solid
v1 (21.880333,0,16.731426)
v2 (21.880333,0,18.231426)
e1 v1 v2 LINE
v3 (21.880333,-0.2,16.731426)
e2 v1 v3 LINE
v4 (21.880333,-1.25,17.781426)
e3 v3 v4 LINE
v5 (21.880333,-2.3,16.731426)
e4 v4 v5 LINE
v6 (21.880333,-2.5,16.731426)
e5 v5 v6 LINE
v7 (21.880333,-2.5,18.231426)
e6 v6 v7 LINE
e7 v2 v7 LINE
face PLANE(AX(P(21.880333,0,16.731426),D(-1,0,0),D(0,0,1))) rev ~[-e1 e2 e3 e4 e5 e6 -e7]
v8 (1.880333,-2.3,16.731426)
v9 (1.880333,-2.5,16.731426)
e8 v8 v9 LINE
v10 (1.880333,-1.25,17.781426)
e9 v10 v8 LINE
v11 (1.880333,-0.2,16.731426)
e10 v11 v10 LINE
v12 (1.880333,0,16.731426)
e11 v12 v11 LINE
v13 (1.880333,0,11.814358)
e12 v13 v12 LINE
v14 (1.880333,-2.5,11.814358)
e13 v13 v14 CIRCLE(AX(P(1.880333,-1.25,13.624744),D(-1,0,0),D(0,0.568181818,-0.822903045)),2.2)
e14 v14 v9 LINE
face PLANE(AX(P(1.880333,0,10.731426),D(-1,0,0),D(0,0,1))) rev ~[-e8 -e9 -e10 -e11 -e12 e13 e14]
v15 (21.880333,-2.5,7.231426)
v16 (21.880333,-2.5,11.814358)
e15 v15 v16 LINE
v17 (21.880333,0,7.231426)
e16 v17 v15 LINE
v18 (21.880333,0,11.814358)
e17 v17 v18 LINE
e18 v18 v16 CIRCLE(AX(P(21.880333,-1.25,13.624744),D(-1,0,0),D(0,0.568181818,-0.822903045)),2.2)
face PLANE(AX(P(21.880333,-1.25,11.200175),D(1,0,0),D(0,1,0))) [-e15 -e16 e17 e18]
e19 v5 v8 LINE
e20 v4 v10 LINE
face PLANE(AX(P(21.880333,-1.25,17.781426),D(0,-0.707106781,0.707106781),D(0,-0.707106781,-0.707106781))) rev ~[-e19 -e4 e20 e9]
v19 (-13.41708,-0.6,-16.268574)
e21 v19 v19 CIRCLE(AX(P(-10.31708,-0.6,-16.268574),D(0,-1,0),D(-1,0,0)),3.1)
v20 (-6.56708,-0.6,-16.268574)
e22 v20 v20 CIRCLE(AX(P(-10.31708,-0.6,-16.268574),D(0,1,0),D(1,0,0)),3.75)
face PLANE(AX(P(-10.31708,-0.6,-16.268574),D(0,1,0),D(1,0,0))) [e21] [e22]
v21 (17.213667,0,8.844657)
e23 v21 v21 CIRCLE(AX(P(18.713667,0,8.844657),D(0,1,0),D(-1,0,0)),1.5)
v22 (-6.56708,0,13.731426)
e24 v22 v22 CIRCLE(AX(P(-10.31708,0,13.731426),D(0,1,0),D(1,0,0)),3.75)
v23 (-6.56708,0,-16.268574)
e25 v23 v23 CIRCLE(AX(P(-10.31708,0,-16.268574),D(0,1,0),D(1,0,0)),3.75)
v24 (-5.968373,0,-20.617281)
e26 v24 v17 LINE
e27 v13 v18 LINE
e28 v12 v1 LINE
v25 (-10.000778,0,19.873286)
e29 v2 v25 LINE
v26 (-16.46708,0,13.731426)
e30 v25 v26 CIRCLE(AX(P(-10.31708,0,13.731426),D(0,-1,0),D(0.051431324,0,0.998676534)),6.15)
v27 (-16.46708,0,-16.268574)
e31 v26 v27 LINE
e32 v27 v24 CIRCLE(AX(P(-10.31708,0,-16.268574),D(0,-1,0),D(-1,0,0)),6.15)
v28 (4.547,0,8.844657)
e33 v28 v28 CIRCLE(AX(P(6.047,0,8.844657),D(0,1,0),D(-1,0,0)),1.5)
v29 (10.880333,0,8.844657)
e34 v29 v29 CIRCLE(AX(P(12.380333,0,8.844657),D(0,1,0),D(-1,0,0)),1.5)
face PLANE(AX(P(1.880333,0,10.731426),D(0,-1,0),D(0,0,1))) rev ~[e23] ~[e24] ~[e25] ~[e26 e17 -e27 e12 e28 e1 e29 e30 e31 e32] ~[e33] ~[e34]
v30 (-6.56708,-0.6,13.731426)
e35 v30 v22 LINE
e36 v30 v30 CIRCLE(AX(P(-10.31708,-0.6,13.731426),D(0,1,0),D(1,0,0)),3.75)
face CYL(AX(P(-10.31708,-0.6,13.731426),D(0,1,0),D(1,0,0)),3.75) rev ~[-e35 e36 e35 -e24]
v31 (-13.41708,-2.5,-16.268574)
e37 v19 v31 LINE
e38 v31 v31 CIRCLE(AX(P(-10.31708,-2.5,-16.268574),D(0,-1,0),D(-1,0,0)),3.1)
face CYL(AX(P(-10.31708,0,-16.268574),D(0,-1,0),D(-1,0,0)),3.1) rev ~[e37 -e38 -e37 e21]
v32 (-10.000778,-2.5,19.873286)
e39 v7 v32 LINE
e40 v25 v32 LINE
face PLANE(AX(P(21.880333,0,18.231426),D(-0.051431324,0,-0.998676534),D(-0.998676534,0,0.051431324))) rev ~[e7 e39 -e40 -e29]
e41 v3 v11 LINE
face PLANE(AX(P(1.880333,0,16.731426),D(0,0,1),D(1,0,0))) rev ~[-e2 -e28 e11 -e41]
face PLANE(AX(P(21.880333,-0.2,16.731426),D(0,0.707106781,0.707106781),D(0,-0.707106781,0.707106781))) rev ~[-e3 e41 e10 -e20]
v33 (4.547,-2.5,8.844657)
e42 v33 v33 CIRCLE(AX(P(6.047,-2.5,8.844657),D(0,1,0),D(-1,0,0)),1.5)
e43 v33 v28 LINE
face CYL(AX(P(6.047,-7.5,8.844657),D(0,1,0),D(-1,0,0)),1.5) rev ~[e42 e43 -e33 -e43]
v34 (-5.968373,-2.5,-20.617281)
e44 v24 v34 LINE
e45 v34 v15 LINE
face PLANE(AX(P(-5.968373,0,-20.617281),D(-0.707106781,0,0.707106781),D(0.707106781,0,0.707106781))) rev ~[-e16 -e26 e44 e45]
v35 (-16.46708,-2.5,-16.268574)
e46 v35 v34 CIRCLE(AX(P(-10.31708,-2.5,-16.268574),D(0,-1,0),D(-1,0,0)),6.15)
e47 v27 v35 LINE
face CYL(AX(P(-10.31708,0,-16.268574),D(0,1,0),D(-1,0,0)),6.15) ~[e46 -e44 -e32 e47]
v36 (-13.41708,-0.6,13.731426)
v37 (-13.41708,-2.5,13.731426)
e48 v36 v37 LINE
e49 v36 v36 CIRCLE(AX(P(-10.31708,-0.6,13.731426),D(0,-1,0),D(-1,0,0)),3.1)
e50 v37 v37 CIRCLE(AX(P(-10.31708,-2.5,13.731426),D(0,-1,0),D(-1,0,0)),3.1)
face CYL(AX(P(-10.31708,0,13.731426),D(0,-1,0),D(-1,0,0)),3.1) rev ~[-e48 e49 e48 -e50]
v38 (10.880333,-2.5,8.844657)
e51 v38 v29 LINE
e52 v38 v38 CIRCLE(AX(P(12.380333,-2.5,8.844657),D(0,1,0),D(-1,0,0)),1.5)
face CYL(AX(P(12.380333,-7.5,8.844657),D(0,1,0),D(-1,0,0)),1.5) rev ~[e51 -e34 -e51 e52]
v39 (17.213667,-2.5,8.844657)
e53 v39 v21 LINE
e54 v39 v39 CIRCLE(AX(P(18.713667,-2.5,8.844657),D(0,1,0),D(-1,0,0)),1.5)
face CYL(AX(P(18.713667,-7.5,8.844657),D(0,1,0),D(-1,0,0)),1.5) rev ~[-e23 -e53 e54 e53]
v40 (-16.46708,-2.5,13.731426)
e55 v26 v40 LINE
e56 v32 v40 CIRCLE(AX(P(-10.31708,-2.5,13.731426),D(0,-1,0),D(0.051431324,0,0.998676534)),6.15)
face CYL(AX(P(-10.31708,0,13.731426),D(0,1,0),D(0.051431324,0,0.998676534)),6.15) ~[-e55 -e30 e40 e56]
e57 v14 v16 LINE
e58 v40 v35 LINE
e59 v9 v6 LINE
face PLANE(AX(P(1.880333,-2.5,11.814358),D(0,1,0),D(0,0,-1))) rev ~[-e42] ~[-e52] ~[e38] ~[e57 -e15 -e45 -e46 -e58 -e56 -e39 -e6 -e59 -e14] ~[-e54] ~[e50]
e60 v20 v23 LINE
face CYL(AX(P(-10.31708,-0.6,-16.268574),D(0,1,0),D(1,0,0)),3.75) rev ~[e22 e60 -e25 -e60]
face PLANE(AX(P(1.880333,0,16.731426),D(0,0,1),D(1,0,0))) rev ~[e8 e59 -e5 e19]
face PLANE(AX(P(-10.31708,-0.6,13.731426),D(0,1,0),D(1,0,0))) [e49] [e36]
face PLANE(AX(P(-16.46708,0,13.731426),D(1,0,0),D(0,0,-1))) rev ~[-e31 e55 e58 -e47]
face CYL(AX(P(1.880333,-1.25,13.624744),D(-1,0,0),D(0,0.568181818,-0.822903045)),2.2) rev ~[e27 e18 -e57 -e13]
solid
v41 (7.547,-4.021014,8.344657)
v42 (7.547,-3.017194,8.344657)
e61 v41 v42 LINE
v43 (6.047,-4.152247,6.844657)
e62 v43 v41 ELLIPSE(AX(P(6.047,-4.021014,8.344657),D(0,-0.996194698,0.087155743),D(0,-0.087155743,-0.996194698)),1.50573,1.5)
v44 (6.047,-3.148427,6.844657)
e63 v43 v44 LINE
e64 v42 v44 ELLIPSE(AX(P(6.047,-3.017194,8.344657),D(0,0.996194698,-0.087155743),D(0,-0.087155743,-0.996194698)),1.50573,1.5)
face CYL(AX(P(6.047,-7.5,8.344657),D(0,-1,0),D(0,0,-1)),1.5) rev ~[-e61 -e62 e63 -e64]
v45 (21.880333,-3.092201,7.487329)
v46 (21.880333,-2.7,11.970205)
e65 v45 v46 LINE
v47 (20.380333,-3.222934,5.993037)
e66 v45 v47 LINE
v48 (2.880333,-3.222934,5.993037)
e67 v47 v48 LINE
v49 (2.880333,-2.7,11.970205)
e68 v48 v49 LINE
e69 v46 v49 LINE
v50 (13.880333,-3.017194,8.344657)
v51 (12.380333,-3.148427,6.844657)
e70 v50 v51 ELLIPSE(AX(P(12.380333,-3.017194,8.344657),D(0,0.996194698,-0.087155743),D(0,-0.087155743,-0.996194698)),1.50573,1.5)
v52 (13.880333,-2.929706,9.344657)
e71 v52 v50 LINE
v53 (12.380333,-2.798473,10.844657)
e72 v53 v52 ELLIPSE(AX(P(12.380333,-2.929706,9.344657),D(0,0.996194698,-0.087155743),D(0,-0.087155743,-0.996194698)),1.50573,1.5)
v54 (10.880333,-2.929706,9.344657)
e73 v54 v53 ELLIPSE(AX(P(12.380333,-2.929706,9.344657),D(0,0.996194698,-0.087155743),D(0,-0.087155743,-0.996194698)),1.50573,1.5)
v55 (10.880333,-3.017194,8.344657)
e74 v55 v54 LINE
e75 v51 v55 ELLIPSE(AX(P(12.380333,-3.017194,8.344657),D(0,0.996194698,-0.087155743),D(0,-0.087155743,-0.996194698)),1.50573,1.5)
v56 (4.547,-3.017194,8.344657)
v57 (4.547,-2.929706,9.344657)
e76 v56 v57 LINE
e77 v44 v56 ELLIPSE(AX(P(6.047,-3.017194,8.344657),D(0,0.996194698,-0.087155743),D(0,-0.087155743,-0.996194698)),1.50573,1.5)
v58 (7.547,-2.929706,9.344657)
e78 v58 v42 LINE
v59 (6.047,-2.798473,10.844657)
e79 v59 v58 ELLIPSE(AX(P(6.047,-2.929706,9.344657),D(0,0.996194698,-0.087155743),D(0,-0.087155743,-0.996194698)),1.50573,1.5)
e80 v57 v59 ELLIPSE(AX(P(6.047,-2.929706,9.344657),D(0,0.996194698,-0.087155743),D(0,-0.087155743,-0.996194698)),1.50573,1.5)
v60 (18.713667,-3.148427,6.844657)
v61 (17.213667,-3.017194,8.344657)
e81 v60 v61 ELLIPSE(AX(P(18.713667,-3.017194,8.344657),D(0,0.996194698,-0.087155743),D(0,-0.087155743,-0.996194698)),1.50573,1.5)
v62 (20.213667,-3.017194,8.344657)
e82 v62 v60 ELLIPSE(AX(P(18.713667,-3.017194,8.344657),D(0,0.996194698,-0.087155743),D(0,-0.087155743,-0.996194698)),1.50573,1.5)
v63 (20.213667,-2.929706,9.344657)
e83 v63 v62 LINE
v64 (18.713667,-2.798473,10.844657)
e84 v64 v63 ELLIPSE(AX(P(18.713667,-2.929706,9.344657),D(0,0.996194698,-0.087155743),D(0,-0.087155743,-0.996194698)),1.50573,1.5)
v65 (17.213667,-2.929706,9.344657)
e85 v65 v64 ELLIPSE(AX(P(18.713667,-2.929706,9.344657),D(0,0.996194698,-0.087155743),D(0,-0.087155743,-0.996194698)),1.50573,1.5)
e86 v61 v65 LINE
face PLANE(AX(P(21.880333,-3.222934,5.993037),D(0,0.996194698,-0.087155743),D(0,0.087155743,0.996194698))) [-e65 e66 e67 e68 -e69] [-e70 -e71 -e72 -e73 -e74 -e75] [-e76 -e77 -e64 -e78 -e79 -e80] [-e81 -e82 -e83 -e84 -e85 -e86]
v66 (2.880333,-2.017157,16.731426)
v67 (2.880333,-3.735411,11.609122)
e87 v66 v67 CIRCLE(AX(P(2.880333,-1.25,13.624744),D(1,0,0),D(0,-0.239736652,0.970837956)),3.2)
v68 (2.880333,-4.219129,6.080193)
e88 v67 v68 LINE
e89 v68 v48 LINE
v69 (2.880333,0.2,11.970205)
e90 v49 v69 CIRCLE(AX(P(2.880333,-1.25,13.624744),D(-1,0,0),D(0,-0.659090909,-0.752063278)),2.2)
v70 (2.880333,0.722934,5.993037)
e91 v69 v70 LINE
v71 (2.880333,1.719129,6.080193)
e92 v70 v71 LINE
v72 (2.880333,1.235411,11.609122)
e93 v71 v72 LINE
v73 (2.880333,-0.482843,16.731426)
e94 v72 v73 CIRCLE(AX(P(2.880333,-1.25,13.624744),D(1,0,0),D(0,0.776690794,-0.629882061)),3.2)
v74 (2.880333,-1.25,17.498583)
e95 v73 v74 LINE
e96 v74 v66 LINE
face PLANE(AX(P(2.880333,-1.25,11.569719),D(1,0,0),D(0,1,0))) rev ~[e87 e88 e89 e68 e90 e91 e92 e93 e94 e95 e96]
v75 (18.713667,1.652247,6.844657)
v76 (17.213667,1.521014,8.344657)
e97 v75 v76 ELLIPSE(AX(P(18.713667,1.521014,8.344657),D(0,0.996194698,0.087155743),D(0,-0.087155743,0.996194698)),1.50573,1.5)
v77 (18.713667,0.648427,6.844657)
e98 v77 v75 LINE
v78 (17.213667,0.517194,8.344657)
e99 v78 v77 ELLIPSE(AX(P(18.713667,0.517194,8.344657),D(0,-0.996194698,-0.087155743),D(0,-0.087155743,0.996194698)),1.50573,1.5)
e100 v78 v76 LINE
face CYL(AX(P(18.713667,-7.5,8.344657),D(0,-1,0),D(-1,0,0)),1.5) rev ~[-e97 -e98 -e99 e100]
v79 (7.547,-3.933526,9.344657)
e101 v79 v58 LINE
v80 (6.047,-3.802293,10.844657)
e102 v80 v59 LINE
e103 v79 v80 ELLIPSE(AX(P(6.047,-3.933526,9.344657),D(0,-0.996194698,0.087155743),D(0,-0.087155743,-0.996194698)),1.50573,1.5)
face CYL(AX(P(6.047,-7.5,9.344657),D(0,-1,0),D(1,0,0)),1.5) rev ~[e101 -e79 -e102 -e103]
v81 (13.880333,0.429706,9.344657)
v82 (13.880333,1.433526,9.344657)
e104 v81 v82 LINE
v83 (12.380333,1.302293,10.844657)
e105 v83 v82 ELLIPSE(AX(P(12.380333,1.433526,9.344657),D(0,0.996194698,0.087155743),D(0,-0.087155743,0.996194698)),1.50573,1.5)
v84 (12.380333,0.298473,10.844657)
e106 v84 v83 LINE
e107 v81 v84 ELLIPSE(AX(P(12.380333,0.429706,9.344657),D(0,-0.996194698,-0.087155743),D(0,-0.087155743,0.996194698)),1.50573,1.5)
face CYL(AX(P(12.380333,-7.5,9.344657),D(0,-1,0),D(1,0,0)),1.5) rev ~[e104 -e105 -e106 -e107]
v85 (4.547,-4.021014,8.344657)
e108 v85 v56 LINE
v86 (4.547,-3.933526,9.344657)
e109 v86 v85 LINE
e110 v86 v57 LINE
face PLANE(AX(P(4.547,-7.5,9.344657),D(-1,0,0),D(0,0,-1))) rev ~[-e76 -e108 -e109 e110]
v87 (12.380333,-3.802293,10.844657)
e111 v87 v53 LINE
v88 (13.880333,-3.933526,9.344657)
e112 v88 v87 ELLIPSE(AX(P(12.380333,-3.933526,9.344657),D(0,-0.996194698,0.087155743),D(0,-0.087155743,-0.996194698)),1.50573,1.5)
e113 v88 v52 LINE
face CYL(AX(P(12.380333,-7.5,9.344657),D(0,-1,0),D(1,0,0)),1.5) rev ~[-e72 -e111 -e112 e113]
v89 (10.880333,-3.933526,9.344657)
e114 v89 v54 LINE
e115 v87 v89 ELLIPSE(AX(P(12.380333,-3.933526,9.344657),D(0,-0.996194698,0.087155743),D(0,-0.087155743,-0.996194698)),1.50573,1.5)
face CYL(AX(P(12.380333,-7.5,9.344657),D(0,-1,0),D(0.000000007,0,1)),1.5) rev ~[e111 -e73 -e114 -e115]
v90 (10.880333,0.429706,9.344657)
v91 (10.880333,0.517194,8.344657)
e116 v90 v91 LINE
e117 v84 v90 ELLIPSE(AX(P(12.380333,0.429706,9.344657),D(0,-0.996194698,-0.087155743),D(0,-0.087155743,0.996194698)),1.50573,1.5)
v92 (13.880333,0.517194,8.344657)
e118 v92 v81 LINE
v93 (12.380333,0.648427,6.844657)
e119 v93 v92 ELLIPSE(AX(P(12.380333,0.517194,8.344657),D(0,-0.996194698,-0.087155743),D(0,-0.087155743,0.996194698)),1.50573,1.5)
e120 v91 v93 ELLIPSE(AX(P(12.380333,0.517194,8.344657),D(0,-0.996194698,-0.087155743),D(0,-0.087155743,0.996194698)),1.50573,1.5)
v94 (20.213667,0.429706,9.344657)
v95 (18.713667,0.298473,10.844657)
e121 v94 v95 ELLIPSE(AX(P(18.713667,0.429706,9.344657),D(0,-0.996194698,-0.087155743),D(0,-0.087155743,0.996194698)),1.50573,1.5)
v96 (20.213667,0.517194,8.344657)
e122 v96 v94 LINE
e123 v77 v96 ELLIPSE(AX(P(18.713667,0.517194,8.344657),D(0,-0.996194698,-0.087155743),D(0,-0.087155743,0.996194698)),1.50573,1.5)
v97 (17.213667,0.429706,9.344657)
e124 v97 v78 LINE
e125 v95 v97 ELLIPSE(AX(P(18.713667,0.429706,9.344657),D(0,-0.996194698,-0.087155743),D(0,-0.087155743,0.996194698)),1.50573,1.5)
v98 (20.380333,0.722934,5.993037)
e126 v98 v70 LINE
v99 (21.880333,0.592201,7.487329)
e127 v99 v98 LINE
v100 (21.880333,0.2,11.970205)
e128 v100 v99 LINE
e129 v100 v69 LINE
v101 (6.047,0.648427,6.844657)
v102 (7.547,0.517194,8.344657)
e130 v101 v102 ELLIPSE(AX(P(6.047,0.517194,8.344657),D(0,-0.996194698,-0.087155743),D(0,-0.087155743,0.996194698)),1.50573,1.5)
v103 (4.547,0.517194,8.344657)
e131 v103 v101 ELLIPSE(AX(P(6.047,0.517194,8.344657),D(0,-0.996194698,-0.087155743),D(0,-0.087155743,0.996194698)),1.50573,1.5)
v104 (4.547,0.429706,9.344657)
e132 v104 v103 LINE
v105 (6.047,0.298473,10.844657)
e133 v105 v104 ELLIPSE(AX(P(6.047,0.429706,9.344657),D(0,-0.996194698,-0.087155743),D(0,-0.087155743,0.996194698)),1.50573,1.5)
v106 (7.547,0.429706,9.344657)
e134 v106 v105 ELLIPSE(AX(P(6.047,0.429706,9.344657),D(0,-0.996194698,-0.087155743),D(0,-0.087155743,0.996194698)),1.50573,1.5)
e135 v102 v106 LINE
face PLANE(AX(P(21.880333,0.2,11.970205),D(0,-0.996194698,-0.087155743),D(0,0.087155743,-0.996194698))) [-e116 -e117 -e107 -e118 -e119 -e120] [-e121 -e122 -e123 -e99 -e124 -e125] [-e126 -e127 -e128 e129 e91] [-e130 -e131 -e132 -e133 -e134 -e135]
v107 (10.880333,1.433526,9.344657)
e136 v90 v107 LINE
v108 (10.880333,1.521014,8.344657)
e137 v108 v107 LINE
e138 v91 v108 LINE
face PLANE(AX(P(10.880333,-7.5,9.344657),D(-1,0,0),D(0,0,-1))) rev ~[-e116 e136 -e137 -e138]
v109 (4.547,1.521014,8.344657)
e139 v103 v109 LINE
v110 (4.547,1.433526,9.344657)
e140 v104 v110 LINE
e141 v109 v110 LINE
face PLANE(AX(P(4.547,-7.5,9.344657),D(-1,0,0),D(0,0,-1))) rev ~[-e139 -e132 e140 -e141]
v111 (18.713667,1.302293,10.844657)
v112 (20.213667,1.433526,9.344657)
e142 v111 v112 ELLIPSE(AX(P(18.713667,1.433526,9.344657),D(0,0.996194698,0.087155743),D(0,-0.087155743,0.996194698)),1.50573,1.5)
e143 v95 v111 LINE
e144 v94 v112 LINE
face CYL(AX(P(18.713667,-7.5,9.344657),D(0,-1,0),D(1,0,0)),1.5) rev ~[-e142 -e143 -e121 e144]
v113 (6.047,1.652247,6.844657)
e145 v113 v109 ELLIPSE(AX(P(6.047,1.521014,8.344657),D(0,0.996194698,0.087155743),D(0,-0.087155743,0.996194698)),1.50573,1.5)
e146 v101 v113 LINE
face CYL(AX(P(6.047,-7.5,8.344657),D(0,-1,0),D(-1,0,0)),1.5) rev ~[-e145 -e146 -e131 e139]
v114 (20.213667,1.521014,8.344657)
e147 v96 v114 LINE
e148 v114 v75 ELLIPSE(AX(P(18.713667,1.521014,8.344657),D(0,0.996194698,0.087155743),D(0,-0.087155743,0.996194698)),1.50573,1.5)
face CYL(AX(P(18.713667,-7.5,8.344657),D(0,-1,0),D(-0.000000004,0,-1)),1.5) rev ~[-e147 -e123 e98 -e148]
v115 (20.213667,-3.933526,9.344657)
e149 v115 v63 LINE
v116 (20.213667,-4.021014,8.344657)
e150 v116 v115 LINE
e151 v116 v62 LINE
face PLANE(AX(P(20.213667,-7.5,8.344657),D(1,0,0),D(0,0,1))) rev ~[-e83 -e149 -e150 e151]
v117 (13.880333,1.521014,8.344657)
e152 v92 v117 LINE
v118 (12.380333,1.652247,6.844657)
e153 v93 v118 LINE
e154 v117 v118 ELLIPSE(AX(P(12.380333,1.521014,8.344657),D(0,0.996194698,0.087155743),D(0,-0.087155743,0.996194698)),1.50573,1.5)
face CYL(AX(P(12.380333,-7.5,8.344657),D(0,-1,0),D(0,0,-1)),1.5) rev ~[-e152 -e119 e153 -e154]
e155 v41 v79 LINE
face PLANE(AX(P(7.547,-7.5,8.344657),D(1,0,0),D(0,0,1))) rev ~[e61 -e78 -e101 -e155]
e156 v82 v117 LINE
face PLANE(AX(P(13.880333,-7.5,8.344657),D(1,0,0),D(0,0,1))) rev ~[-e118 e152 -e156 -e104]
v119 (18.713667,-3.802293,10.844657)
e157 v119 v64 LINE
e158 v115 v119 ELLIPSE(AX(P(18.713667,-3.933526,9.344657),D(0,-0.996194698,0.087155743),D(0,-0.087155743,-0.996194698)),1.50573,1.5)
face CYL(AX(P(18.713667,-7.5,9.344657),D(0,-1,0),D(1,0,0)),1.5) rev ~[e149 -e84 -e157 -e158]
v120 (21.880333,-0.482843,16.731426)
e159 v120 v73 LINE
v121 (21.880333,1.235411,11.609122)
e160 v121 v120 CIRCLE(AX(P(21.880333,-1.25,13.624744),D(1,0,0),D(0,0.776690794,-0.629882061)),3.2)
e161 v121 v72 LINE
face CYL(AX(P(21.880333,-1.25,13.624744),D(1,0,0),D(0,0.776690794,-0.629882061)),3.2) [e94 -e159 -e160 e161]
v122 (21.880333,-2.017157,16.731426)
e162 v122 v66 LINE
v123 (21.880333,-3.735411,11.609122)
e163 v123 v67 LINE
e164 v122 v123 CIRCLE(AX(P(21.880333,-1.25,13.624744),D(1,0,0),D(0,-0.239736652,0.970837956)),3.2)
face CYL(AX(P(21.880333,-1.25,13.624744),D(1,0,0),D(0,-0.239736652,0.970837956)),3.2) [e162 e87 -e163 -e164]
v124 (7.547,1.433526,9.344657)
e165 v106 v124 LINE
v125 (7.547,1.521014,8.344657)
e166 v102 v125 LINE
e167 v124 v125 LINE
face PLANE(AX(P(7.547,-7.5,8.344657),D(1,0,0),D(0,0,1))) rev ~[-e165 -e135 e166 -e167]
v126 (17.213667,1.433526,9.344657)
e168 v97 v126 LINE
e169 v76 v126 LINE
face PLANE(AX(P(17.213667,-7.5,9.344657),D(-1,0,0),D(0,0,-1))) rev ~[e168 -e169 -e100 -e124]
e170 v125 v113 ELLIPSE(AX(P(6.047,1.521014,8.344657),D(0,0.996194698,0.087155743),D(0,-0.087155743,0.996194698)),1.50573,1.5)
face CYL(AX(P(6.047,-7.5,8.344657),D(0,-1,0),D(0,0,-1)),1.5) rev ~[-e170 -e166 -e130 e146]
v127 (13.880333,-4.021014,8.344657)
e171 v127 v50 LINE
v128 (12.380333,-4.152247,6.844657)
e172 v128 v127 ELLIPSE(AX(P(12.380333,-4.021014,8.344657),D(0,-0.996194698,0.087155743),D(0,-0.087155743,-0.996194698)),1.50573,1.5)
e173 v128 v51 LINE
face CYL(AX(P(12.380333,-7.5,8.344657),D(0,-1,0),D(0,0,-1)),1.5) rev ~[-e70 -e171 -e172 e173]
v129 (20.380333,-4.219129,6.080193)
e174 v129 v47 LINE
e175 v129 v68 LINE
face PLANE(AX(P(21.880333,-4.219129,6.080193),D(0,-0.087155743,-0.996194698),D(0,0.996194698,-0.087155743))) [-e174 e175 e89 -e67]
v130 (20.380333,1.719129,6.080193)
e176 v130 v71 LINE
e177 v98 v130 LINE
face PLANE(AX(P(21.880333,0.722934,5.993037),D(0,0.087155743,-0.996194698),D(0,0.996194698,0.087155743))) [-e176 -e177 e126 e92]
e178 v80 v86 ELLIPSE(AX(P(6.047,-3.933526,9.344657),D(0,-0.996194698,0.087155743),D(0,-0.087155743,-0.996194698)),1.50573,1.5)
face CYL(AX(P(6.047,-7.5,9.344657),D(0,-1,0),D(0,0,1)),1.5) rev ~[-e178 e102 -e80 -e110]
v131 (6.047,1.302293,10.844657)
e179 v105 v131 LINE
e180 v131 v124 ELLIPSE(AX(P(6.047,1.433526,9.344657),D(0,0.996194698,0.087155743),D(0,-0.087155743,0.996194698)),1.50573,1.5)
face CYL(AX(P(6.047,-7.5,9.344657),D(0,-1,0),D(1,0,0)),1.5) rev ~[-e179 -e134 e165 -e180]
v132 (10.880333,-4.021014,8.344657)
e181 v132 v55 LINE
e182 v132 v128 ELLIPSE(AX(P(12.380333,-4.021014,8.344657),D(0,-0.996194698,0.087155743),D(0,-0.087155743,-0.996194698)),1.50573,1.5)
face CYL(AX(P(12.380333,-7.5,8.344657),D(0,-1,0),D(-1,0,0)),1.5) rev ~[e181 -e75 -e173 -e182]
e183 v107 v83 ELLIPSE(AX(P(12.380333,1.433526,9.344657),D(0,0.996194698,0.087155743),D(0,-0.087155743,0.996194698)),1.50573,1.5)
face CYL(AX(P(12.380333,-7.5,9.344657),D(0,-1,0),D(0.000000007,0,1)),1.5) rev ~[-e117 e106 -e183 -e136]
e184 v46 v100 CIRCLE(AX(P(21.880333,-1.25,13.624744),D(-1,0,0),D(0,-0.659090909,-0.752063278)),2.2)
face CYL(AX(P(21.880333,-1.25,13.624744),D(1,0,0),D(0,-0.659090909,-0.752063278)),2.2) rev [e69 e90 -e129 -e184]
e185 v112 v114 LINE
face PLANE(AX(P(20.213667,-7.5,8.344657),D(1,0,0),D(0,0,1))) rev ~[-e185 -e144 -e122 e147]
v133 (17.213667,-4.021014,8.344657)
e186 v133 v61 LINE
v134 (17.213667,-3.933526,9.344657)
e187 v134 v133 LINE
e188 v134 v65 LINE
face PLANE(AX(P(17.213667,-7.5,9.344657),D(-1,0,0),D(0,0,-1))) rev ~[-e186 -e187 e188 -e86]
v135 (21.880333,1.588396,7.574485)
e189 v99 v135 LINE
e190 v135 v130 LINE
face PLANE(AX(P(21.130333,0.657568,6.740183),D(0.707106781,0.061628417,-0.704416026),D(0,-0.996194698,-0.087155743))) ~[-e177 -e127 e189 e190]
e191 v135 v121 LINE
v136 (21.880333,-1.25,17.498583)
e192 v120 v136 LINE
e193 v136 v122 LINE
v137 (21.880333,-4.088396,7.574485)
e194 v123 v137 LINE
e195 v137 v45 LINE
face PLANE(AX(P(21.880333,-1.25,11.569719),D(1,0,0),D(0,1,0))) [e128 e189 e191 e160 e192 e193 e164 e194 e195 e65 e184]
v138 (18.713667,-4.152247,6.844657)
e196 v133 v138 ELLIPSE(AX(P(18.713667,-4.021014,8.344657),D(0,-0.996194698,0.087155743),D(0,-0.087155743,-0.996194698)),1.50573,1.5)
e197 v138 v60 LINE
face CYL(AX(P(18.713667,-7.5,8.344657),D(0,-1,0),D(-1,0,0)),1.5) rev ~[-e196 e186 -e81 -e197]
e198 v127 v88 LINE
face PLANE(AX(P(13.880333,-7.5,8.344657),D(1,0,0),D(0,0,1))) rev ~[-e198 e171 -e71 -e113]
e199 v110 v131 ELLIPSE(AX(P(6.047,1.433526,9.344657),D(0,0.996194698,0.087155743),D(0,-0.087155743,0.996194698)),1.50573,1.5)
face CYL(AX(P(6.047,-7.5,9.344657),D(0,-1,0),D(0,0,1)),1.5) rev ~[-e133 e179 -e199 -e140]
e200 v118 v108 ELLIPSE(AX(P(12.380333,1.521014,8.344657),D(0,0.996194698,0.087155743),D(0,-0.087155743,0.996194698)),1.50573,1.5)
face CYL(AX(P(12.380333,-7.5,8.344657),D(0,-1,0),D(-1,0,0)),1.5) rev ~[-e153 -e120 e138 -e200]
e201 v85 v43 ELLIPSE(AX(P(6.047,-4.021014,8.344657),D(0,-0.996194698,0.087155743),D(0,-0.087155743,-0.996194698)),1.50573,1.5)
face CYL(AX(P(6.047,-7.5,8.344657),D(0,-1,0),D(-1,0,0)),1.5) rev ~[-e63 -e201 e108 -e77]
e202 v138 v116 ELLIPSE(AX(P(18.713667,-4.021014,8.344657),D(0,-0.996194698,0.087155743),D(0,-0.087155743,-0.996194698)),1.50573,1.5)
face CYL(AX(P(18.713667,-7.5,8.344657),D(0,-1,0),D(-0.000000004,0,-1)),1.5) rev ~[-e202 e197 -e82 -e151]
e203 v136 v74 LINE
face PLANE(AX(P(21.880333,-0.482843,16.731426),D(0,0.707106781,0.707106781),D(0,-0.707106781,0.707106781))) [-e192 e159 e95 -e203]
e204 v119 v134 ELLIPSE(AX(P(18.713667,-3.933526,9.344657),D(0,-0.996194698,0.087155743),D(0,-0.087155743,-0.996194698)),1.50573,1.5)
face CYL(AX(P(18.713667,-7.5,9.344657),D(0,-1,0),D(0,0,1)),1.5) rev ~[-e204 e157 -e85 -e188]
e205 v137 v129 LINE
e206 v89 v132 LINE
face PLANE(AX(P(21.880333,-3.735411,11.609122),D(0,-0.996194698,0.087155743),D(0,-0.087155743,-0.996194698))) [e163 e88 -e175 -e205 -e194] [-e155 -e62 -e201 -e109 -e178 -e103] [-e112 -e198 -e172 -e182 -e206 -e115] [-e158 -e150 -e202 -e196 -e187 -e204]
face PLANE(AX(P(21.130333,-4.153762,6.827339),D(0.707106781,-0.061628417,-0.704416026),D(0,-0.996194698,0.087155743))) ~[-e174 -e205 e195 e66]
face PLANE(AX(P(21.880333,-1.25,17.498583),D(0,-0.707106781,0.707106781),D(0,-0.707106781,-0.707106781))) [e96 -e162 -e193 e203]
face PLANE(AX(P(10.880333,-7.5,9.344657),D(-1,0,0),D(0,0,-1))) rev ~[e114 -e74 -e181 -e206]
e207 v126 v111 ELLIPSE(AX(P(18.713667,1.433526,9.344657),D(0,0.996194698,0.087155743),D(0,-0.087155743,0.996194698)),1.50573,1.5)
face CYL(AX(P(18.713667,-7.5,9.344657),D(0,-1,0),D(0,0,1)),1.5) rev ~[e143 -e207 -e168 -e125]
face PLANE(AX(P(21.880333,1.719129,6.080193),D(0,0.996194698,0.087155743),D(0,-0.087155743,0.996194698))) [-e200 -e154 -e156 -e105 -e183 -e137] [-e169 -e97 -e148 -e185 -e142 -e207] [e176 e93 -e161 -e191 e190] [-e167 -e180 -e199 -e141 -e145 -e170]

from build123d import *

# Parameters (mm, degrees)
F1_DEPTH        = 2.5
F3_DEPTH        = 20
F6_DEPTH        = 19
F8_DEPTH        = 20
F11_D           = 3
F11_DEPTH       = 5
F11_START       = 5
F11_TIP         = 0.9012909285
F12_DEPTH       = 25
F13_SIZE        = 1.5
F14_D           = 6.2
F14_DEPTH       = 5
F14_CBORE_D     = 7.5
F14_CBORE_DEPTH = 0.6
F14_TIP         = 1.862667919


with BuildPart() as f1:
    # F0 (on Front) → F1 (new body)
    with BuildSketch(Plane.XZ):
        with BuildLine():
            ThreePointArc((-10.0007775515, 19.8732864219), (-14.5524809274, 18.190560255), (-16.4670801936, 13.7314257398))
            Line((-16.4670801936, 13.7314257398), (-16.4670801936, -16.2685742602))
            ThreePointArc((-16.4670801936, -16.2685742602), (-12.6705833026, -21.9504333851), (-5.9683734893, -20.6172809645))
            Line((-5.9683734893, -20.6172809645), (21.880333215, 7.2314257398))
            Line((21.880333215, 7.2314257398), (21.880333215, 10.7314257398))
            Line((21.880333215, 10.7314257398), (1.880333215, 10.7314257398))
            Line((1.880333215, 10.7314257398), (1.880333215, 16.7314257398))
            Line((1.880333215, 16.7314257398), (21.880333215, 16.7314257398))
            Line((21.880333215, 16.7314257398), (21.880333215, 18.2314257398))
            Line((21.880333215, 18.2314257398), (-10.0007775515, 19.8732864219))
        make_face()
    extrude(amount=F1_DEPTH)

    # F2 (on face) → F3 (cut, through all)
    with BuildSketch(Plane.YZ.offset(21.880333215)):
        Polygon((-1.25, 17.7814257398), (-2.3, 16.7314257398), (-0.2, 16.7314257398), align=None)
    extrude(amount=-F3_DEPTH, mode=Mode.SUBTRACT)

    # F7 (on face) → F8 (join, through all)
    with BuildSketch(Plane.YZ.offset(1.880333215)):
        with BuildLine():
            Line((-2.5, 11.8143575804), (-2.5, 10.7314257398))
            Line((-2.5, 10.7314257398), (0, 10.7314257398))
            Line((0, 10.7314257398), (0, 11.8143575804))
            ThreePointArc((0, 11.8143575804), (-1.25, 11.4247442795), (-2.5, 11.8143575804))
        make_face()
    extrude(amount=F8_DEPTH)

    # F11
    # its depths count from where the whole tool has entered the part; down to there all is cleared
    with Locations(Plane.XZ.offset(7.5).offset(-F11_START)):
        with Locations((6.0469998817, 8.8446571536), (12.380333215, 8.8446571536), (18.7136665483, 8.8446571536)):
            Hole(F11_D / 2, depth=F11_DEPTH)
            with Locations((0, 0, -(F11_DEPTH + F11_TIP / 2))):  # 118° drill point
                Cone(0, F11_D / 2, F11_TIP, mode=Mode.SUBTRACT)

    # F14
    with Locations(Plane(origin=(0, 0, 0), x_dir=(1, 0, 0), z_dir=(0, 1, 0))):
        with Locations((-10.3170801936, -13.7314257398), (-10.3170801936, 16.2685742602)):
            CounterBoreHole(F14_D / 2, F14_CBORE_D / 2, F14_CBORE_DEPTH, depth=F14_DEPTH)
            with Locations((0, 0, -(F14_DEPTH + F14_TIP / 2))):  # 118° drill point
                Cone(0, F14_D / 2, F14_TIP, mode=Mode.SUBTRACT)


with BuildPart() as f6:
    # F5 (on offset) → F6 (new body)
    with BuildSketch(Plane.YZ.offset(21.880333215)):
        with BuildLine():
            ThreePointArc((-2.7, 11.9702050687), (-1.25, 15.8247442795), (0.2, 11.9702050687))
            Line((0.2, 11.9702050687), (0.7229344565, 5.9930368801))
            Line((0.7229344565, 5.9930368801), (1.7191291546, 6.0801926229))
            Line((1.7191291546, 6.0801926229), (1.2354105403, 11.6091216842))
            ThreePointArc((1.2354105403, 11.6091216842), (1.7838587769, 14.642438203), (-0.4828427125, 16.7314257398))
            Line((-0.4828427125, 16.7314257398), (-1.25, 17.4985830274))
            Line((-1.25, 17.4985830274), (-2.0171572875, 16.7314257398))
            ThreePointArc((-2.0171572875, 16.7314257398), (-4.2838587769, 14.642438203), (-3.7354105403, 11.6091216842))
            Line((-3.7354105403, 11.6091216842), (-4.2191291546, 6.0801926229))
            Line((-4.2191291546, 6.0801926229), (-3.2229344565, 5.9930368801))
            Line((-3.2229344565, 5.9930368801), (-2.7, 11.9702050687))
        make_face()
    extrude(amount=-F6_DEPTH)

    # F10 (on offset) → F12 (cut)
    with BuildSketch(Plane.XZ.offset(7.5)):
        with BuildLine():
            ThreePointArc((4.5469998817, 8.3446571536), (4.9863397099, 7.2839969818), (6.0469998817, 6.8446571536))
            ThreePointArc((6.0469998817, 6.8446571536), (7.1076600534, 7.2839969818), (7.5469998817, 8.3446571536))
            Line((7.5469998817, 8.3446571536), (7.5469998817, 9.3446571536))
            ThreePointArc((7.5469998817, 9.3446571536), (7.1076600534, 10.4053173253), (6.0469998817, 10.8446571536))
            ThreePointArc((6.0469998817, 10.8446571536), (4.9863397099, 10.4053173253), (4.5469998817, 9.3446571536))
            Line((4.5469998817, 9.3446571536), (4.5469998817, 8.3446571536))
        make_face()
        with BuildLine():
            ThreePointArc((10.880333215, 8.3446571536), (11.3196730432, 7.2839969818), (12.380333215, 6.8446571536))
            ThreePointArc((12.380333215, 6.8446571536), (13.4409933868, 7.2839969818), (13.880333215, 8.3446571536))
            Line((13.880333215, 8.3446571536), (13.880333215, 9.3446571536))
            ThreePointArc((13.880333215, 9.3446571536), (13.4409933904, 10.4053173217), (12.3803332253, 10.8446571536))
            ThreePointArc((12.3803332253, 10.8446571536), (11.3196730469, 10.405317329), (10.880333215, 9.3446571536))
            Line((10.880333215, 9.3446571536), (10.880333215, 8.3446571536))
        make_face()
        with BuildLine():
            ThreePointArc((17.2136665483, 8.3446571536), (17.6530063743, 7.283996984), (18.7136665419, 6.8446571536))
            ThreePointArc((18.7136665419, 6.8446571536), (19.7743267179, 7.2839969795), (20.2136665483, 8.3446571536))
            Line((20.2136665483, 8.3446571536), (20.2136665483, 9.3446571536))
            ThreePointArc((20.2136665483, 9.3446571536), (19.7743267201, 10.4053173253), (18.7136665483, 10.8446571536))
            ThreePointArc((18.7136665483, 10.8446571536), (17.6530063766, 10.4053173253), (17.2136665483, 9.3446571536))
            Line((17.2136665483, 9.3446571536), (17.2136665483, 8.3446571536))
        make_face()
    extrude(amount=-F12_DEPTH, mode=Mode.SUBTRACT)

    # F13
    f13_edges = [f6.edges().sort_by_distance(p)[0] for p in [
        (21.880333, -3.721032, 6.036615),
        (21.880333, 1.221032, 6.036615),
    ]]
    chamfer(f13_edges, length=F13_SIZE)


solid = Compound([f1.part, f6.part])
